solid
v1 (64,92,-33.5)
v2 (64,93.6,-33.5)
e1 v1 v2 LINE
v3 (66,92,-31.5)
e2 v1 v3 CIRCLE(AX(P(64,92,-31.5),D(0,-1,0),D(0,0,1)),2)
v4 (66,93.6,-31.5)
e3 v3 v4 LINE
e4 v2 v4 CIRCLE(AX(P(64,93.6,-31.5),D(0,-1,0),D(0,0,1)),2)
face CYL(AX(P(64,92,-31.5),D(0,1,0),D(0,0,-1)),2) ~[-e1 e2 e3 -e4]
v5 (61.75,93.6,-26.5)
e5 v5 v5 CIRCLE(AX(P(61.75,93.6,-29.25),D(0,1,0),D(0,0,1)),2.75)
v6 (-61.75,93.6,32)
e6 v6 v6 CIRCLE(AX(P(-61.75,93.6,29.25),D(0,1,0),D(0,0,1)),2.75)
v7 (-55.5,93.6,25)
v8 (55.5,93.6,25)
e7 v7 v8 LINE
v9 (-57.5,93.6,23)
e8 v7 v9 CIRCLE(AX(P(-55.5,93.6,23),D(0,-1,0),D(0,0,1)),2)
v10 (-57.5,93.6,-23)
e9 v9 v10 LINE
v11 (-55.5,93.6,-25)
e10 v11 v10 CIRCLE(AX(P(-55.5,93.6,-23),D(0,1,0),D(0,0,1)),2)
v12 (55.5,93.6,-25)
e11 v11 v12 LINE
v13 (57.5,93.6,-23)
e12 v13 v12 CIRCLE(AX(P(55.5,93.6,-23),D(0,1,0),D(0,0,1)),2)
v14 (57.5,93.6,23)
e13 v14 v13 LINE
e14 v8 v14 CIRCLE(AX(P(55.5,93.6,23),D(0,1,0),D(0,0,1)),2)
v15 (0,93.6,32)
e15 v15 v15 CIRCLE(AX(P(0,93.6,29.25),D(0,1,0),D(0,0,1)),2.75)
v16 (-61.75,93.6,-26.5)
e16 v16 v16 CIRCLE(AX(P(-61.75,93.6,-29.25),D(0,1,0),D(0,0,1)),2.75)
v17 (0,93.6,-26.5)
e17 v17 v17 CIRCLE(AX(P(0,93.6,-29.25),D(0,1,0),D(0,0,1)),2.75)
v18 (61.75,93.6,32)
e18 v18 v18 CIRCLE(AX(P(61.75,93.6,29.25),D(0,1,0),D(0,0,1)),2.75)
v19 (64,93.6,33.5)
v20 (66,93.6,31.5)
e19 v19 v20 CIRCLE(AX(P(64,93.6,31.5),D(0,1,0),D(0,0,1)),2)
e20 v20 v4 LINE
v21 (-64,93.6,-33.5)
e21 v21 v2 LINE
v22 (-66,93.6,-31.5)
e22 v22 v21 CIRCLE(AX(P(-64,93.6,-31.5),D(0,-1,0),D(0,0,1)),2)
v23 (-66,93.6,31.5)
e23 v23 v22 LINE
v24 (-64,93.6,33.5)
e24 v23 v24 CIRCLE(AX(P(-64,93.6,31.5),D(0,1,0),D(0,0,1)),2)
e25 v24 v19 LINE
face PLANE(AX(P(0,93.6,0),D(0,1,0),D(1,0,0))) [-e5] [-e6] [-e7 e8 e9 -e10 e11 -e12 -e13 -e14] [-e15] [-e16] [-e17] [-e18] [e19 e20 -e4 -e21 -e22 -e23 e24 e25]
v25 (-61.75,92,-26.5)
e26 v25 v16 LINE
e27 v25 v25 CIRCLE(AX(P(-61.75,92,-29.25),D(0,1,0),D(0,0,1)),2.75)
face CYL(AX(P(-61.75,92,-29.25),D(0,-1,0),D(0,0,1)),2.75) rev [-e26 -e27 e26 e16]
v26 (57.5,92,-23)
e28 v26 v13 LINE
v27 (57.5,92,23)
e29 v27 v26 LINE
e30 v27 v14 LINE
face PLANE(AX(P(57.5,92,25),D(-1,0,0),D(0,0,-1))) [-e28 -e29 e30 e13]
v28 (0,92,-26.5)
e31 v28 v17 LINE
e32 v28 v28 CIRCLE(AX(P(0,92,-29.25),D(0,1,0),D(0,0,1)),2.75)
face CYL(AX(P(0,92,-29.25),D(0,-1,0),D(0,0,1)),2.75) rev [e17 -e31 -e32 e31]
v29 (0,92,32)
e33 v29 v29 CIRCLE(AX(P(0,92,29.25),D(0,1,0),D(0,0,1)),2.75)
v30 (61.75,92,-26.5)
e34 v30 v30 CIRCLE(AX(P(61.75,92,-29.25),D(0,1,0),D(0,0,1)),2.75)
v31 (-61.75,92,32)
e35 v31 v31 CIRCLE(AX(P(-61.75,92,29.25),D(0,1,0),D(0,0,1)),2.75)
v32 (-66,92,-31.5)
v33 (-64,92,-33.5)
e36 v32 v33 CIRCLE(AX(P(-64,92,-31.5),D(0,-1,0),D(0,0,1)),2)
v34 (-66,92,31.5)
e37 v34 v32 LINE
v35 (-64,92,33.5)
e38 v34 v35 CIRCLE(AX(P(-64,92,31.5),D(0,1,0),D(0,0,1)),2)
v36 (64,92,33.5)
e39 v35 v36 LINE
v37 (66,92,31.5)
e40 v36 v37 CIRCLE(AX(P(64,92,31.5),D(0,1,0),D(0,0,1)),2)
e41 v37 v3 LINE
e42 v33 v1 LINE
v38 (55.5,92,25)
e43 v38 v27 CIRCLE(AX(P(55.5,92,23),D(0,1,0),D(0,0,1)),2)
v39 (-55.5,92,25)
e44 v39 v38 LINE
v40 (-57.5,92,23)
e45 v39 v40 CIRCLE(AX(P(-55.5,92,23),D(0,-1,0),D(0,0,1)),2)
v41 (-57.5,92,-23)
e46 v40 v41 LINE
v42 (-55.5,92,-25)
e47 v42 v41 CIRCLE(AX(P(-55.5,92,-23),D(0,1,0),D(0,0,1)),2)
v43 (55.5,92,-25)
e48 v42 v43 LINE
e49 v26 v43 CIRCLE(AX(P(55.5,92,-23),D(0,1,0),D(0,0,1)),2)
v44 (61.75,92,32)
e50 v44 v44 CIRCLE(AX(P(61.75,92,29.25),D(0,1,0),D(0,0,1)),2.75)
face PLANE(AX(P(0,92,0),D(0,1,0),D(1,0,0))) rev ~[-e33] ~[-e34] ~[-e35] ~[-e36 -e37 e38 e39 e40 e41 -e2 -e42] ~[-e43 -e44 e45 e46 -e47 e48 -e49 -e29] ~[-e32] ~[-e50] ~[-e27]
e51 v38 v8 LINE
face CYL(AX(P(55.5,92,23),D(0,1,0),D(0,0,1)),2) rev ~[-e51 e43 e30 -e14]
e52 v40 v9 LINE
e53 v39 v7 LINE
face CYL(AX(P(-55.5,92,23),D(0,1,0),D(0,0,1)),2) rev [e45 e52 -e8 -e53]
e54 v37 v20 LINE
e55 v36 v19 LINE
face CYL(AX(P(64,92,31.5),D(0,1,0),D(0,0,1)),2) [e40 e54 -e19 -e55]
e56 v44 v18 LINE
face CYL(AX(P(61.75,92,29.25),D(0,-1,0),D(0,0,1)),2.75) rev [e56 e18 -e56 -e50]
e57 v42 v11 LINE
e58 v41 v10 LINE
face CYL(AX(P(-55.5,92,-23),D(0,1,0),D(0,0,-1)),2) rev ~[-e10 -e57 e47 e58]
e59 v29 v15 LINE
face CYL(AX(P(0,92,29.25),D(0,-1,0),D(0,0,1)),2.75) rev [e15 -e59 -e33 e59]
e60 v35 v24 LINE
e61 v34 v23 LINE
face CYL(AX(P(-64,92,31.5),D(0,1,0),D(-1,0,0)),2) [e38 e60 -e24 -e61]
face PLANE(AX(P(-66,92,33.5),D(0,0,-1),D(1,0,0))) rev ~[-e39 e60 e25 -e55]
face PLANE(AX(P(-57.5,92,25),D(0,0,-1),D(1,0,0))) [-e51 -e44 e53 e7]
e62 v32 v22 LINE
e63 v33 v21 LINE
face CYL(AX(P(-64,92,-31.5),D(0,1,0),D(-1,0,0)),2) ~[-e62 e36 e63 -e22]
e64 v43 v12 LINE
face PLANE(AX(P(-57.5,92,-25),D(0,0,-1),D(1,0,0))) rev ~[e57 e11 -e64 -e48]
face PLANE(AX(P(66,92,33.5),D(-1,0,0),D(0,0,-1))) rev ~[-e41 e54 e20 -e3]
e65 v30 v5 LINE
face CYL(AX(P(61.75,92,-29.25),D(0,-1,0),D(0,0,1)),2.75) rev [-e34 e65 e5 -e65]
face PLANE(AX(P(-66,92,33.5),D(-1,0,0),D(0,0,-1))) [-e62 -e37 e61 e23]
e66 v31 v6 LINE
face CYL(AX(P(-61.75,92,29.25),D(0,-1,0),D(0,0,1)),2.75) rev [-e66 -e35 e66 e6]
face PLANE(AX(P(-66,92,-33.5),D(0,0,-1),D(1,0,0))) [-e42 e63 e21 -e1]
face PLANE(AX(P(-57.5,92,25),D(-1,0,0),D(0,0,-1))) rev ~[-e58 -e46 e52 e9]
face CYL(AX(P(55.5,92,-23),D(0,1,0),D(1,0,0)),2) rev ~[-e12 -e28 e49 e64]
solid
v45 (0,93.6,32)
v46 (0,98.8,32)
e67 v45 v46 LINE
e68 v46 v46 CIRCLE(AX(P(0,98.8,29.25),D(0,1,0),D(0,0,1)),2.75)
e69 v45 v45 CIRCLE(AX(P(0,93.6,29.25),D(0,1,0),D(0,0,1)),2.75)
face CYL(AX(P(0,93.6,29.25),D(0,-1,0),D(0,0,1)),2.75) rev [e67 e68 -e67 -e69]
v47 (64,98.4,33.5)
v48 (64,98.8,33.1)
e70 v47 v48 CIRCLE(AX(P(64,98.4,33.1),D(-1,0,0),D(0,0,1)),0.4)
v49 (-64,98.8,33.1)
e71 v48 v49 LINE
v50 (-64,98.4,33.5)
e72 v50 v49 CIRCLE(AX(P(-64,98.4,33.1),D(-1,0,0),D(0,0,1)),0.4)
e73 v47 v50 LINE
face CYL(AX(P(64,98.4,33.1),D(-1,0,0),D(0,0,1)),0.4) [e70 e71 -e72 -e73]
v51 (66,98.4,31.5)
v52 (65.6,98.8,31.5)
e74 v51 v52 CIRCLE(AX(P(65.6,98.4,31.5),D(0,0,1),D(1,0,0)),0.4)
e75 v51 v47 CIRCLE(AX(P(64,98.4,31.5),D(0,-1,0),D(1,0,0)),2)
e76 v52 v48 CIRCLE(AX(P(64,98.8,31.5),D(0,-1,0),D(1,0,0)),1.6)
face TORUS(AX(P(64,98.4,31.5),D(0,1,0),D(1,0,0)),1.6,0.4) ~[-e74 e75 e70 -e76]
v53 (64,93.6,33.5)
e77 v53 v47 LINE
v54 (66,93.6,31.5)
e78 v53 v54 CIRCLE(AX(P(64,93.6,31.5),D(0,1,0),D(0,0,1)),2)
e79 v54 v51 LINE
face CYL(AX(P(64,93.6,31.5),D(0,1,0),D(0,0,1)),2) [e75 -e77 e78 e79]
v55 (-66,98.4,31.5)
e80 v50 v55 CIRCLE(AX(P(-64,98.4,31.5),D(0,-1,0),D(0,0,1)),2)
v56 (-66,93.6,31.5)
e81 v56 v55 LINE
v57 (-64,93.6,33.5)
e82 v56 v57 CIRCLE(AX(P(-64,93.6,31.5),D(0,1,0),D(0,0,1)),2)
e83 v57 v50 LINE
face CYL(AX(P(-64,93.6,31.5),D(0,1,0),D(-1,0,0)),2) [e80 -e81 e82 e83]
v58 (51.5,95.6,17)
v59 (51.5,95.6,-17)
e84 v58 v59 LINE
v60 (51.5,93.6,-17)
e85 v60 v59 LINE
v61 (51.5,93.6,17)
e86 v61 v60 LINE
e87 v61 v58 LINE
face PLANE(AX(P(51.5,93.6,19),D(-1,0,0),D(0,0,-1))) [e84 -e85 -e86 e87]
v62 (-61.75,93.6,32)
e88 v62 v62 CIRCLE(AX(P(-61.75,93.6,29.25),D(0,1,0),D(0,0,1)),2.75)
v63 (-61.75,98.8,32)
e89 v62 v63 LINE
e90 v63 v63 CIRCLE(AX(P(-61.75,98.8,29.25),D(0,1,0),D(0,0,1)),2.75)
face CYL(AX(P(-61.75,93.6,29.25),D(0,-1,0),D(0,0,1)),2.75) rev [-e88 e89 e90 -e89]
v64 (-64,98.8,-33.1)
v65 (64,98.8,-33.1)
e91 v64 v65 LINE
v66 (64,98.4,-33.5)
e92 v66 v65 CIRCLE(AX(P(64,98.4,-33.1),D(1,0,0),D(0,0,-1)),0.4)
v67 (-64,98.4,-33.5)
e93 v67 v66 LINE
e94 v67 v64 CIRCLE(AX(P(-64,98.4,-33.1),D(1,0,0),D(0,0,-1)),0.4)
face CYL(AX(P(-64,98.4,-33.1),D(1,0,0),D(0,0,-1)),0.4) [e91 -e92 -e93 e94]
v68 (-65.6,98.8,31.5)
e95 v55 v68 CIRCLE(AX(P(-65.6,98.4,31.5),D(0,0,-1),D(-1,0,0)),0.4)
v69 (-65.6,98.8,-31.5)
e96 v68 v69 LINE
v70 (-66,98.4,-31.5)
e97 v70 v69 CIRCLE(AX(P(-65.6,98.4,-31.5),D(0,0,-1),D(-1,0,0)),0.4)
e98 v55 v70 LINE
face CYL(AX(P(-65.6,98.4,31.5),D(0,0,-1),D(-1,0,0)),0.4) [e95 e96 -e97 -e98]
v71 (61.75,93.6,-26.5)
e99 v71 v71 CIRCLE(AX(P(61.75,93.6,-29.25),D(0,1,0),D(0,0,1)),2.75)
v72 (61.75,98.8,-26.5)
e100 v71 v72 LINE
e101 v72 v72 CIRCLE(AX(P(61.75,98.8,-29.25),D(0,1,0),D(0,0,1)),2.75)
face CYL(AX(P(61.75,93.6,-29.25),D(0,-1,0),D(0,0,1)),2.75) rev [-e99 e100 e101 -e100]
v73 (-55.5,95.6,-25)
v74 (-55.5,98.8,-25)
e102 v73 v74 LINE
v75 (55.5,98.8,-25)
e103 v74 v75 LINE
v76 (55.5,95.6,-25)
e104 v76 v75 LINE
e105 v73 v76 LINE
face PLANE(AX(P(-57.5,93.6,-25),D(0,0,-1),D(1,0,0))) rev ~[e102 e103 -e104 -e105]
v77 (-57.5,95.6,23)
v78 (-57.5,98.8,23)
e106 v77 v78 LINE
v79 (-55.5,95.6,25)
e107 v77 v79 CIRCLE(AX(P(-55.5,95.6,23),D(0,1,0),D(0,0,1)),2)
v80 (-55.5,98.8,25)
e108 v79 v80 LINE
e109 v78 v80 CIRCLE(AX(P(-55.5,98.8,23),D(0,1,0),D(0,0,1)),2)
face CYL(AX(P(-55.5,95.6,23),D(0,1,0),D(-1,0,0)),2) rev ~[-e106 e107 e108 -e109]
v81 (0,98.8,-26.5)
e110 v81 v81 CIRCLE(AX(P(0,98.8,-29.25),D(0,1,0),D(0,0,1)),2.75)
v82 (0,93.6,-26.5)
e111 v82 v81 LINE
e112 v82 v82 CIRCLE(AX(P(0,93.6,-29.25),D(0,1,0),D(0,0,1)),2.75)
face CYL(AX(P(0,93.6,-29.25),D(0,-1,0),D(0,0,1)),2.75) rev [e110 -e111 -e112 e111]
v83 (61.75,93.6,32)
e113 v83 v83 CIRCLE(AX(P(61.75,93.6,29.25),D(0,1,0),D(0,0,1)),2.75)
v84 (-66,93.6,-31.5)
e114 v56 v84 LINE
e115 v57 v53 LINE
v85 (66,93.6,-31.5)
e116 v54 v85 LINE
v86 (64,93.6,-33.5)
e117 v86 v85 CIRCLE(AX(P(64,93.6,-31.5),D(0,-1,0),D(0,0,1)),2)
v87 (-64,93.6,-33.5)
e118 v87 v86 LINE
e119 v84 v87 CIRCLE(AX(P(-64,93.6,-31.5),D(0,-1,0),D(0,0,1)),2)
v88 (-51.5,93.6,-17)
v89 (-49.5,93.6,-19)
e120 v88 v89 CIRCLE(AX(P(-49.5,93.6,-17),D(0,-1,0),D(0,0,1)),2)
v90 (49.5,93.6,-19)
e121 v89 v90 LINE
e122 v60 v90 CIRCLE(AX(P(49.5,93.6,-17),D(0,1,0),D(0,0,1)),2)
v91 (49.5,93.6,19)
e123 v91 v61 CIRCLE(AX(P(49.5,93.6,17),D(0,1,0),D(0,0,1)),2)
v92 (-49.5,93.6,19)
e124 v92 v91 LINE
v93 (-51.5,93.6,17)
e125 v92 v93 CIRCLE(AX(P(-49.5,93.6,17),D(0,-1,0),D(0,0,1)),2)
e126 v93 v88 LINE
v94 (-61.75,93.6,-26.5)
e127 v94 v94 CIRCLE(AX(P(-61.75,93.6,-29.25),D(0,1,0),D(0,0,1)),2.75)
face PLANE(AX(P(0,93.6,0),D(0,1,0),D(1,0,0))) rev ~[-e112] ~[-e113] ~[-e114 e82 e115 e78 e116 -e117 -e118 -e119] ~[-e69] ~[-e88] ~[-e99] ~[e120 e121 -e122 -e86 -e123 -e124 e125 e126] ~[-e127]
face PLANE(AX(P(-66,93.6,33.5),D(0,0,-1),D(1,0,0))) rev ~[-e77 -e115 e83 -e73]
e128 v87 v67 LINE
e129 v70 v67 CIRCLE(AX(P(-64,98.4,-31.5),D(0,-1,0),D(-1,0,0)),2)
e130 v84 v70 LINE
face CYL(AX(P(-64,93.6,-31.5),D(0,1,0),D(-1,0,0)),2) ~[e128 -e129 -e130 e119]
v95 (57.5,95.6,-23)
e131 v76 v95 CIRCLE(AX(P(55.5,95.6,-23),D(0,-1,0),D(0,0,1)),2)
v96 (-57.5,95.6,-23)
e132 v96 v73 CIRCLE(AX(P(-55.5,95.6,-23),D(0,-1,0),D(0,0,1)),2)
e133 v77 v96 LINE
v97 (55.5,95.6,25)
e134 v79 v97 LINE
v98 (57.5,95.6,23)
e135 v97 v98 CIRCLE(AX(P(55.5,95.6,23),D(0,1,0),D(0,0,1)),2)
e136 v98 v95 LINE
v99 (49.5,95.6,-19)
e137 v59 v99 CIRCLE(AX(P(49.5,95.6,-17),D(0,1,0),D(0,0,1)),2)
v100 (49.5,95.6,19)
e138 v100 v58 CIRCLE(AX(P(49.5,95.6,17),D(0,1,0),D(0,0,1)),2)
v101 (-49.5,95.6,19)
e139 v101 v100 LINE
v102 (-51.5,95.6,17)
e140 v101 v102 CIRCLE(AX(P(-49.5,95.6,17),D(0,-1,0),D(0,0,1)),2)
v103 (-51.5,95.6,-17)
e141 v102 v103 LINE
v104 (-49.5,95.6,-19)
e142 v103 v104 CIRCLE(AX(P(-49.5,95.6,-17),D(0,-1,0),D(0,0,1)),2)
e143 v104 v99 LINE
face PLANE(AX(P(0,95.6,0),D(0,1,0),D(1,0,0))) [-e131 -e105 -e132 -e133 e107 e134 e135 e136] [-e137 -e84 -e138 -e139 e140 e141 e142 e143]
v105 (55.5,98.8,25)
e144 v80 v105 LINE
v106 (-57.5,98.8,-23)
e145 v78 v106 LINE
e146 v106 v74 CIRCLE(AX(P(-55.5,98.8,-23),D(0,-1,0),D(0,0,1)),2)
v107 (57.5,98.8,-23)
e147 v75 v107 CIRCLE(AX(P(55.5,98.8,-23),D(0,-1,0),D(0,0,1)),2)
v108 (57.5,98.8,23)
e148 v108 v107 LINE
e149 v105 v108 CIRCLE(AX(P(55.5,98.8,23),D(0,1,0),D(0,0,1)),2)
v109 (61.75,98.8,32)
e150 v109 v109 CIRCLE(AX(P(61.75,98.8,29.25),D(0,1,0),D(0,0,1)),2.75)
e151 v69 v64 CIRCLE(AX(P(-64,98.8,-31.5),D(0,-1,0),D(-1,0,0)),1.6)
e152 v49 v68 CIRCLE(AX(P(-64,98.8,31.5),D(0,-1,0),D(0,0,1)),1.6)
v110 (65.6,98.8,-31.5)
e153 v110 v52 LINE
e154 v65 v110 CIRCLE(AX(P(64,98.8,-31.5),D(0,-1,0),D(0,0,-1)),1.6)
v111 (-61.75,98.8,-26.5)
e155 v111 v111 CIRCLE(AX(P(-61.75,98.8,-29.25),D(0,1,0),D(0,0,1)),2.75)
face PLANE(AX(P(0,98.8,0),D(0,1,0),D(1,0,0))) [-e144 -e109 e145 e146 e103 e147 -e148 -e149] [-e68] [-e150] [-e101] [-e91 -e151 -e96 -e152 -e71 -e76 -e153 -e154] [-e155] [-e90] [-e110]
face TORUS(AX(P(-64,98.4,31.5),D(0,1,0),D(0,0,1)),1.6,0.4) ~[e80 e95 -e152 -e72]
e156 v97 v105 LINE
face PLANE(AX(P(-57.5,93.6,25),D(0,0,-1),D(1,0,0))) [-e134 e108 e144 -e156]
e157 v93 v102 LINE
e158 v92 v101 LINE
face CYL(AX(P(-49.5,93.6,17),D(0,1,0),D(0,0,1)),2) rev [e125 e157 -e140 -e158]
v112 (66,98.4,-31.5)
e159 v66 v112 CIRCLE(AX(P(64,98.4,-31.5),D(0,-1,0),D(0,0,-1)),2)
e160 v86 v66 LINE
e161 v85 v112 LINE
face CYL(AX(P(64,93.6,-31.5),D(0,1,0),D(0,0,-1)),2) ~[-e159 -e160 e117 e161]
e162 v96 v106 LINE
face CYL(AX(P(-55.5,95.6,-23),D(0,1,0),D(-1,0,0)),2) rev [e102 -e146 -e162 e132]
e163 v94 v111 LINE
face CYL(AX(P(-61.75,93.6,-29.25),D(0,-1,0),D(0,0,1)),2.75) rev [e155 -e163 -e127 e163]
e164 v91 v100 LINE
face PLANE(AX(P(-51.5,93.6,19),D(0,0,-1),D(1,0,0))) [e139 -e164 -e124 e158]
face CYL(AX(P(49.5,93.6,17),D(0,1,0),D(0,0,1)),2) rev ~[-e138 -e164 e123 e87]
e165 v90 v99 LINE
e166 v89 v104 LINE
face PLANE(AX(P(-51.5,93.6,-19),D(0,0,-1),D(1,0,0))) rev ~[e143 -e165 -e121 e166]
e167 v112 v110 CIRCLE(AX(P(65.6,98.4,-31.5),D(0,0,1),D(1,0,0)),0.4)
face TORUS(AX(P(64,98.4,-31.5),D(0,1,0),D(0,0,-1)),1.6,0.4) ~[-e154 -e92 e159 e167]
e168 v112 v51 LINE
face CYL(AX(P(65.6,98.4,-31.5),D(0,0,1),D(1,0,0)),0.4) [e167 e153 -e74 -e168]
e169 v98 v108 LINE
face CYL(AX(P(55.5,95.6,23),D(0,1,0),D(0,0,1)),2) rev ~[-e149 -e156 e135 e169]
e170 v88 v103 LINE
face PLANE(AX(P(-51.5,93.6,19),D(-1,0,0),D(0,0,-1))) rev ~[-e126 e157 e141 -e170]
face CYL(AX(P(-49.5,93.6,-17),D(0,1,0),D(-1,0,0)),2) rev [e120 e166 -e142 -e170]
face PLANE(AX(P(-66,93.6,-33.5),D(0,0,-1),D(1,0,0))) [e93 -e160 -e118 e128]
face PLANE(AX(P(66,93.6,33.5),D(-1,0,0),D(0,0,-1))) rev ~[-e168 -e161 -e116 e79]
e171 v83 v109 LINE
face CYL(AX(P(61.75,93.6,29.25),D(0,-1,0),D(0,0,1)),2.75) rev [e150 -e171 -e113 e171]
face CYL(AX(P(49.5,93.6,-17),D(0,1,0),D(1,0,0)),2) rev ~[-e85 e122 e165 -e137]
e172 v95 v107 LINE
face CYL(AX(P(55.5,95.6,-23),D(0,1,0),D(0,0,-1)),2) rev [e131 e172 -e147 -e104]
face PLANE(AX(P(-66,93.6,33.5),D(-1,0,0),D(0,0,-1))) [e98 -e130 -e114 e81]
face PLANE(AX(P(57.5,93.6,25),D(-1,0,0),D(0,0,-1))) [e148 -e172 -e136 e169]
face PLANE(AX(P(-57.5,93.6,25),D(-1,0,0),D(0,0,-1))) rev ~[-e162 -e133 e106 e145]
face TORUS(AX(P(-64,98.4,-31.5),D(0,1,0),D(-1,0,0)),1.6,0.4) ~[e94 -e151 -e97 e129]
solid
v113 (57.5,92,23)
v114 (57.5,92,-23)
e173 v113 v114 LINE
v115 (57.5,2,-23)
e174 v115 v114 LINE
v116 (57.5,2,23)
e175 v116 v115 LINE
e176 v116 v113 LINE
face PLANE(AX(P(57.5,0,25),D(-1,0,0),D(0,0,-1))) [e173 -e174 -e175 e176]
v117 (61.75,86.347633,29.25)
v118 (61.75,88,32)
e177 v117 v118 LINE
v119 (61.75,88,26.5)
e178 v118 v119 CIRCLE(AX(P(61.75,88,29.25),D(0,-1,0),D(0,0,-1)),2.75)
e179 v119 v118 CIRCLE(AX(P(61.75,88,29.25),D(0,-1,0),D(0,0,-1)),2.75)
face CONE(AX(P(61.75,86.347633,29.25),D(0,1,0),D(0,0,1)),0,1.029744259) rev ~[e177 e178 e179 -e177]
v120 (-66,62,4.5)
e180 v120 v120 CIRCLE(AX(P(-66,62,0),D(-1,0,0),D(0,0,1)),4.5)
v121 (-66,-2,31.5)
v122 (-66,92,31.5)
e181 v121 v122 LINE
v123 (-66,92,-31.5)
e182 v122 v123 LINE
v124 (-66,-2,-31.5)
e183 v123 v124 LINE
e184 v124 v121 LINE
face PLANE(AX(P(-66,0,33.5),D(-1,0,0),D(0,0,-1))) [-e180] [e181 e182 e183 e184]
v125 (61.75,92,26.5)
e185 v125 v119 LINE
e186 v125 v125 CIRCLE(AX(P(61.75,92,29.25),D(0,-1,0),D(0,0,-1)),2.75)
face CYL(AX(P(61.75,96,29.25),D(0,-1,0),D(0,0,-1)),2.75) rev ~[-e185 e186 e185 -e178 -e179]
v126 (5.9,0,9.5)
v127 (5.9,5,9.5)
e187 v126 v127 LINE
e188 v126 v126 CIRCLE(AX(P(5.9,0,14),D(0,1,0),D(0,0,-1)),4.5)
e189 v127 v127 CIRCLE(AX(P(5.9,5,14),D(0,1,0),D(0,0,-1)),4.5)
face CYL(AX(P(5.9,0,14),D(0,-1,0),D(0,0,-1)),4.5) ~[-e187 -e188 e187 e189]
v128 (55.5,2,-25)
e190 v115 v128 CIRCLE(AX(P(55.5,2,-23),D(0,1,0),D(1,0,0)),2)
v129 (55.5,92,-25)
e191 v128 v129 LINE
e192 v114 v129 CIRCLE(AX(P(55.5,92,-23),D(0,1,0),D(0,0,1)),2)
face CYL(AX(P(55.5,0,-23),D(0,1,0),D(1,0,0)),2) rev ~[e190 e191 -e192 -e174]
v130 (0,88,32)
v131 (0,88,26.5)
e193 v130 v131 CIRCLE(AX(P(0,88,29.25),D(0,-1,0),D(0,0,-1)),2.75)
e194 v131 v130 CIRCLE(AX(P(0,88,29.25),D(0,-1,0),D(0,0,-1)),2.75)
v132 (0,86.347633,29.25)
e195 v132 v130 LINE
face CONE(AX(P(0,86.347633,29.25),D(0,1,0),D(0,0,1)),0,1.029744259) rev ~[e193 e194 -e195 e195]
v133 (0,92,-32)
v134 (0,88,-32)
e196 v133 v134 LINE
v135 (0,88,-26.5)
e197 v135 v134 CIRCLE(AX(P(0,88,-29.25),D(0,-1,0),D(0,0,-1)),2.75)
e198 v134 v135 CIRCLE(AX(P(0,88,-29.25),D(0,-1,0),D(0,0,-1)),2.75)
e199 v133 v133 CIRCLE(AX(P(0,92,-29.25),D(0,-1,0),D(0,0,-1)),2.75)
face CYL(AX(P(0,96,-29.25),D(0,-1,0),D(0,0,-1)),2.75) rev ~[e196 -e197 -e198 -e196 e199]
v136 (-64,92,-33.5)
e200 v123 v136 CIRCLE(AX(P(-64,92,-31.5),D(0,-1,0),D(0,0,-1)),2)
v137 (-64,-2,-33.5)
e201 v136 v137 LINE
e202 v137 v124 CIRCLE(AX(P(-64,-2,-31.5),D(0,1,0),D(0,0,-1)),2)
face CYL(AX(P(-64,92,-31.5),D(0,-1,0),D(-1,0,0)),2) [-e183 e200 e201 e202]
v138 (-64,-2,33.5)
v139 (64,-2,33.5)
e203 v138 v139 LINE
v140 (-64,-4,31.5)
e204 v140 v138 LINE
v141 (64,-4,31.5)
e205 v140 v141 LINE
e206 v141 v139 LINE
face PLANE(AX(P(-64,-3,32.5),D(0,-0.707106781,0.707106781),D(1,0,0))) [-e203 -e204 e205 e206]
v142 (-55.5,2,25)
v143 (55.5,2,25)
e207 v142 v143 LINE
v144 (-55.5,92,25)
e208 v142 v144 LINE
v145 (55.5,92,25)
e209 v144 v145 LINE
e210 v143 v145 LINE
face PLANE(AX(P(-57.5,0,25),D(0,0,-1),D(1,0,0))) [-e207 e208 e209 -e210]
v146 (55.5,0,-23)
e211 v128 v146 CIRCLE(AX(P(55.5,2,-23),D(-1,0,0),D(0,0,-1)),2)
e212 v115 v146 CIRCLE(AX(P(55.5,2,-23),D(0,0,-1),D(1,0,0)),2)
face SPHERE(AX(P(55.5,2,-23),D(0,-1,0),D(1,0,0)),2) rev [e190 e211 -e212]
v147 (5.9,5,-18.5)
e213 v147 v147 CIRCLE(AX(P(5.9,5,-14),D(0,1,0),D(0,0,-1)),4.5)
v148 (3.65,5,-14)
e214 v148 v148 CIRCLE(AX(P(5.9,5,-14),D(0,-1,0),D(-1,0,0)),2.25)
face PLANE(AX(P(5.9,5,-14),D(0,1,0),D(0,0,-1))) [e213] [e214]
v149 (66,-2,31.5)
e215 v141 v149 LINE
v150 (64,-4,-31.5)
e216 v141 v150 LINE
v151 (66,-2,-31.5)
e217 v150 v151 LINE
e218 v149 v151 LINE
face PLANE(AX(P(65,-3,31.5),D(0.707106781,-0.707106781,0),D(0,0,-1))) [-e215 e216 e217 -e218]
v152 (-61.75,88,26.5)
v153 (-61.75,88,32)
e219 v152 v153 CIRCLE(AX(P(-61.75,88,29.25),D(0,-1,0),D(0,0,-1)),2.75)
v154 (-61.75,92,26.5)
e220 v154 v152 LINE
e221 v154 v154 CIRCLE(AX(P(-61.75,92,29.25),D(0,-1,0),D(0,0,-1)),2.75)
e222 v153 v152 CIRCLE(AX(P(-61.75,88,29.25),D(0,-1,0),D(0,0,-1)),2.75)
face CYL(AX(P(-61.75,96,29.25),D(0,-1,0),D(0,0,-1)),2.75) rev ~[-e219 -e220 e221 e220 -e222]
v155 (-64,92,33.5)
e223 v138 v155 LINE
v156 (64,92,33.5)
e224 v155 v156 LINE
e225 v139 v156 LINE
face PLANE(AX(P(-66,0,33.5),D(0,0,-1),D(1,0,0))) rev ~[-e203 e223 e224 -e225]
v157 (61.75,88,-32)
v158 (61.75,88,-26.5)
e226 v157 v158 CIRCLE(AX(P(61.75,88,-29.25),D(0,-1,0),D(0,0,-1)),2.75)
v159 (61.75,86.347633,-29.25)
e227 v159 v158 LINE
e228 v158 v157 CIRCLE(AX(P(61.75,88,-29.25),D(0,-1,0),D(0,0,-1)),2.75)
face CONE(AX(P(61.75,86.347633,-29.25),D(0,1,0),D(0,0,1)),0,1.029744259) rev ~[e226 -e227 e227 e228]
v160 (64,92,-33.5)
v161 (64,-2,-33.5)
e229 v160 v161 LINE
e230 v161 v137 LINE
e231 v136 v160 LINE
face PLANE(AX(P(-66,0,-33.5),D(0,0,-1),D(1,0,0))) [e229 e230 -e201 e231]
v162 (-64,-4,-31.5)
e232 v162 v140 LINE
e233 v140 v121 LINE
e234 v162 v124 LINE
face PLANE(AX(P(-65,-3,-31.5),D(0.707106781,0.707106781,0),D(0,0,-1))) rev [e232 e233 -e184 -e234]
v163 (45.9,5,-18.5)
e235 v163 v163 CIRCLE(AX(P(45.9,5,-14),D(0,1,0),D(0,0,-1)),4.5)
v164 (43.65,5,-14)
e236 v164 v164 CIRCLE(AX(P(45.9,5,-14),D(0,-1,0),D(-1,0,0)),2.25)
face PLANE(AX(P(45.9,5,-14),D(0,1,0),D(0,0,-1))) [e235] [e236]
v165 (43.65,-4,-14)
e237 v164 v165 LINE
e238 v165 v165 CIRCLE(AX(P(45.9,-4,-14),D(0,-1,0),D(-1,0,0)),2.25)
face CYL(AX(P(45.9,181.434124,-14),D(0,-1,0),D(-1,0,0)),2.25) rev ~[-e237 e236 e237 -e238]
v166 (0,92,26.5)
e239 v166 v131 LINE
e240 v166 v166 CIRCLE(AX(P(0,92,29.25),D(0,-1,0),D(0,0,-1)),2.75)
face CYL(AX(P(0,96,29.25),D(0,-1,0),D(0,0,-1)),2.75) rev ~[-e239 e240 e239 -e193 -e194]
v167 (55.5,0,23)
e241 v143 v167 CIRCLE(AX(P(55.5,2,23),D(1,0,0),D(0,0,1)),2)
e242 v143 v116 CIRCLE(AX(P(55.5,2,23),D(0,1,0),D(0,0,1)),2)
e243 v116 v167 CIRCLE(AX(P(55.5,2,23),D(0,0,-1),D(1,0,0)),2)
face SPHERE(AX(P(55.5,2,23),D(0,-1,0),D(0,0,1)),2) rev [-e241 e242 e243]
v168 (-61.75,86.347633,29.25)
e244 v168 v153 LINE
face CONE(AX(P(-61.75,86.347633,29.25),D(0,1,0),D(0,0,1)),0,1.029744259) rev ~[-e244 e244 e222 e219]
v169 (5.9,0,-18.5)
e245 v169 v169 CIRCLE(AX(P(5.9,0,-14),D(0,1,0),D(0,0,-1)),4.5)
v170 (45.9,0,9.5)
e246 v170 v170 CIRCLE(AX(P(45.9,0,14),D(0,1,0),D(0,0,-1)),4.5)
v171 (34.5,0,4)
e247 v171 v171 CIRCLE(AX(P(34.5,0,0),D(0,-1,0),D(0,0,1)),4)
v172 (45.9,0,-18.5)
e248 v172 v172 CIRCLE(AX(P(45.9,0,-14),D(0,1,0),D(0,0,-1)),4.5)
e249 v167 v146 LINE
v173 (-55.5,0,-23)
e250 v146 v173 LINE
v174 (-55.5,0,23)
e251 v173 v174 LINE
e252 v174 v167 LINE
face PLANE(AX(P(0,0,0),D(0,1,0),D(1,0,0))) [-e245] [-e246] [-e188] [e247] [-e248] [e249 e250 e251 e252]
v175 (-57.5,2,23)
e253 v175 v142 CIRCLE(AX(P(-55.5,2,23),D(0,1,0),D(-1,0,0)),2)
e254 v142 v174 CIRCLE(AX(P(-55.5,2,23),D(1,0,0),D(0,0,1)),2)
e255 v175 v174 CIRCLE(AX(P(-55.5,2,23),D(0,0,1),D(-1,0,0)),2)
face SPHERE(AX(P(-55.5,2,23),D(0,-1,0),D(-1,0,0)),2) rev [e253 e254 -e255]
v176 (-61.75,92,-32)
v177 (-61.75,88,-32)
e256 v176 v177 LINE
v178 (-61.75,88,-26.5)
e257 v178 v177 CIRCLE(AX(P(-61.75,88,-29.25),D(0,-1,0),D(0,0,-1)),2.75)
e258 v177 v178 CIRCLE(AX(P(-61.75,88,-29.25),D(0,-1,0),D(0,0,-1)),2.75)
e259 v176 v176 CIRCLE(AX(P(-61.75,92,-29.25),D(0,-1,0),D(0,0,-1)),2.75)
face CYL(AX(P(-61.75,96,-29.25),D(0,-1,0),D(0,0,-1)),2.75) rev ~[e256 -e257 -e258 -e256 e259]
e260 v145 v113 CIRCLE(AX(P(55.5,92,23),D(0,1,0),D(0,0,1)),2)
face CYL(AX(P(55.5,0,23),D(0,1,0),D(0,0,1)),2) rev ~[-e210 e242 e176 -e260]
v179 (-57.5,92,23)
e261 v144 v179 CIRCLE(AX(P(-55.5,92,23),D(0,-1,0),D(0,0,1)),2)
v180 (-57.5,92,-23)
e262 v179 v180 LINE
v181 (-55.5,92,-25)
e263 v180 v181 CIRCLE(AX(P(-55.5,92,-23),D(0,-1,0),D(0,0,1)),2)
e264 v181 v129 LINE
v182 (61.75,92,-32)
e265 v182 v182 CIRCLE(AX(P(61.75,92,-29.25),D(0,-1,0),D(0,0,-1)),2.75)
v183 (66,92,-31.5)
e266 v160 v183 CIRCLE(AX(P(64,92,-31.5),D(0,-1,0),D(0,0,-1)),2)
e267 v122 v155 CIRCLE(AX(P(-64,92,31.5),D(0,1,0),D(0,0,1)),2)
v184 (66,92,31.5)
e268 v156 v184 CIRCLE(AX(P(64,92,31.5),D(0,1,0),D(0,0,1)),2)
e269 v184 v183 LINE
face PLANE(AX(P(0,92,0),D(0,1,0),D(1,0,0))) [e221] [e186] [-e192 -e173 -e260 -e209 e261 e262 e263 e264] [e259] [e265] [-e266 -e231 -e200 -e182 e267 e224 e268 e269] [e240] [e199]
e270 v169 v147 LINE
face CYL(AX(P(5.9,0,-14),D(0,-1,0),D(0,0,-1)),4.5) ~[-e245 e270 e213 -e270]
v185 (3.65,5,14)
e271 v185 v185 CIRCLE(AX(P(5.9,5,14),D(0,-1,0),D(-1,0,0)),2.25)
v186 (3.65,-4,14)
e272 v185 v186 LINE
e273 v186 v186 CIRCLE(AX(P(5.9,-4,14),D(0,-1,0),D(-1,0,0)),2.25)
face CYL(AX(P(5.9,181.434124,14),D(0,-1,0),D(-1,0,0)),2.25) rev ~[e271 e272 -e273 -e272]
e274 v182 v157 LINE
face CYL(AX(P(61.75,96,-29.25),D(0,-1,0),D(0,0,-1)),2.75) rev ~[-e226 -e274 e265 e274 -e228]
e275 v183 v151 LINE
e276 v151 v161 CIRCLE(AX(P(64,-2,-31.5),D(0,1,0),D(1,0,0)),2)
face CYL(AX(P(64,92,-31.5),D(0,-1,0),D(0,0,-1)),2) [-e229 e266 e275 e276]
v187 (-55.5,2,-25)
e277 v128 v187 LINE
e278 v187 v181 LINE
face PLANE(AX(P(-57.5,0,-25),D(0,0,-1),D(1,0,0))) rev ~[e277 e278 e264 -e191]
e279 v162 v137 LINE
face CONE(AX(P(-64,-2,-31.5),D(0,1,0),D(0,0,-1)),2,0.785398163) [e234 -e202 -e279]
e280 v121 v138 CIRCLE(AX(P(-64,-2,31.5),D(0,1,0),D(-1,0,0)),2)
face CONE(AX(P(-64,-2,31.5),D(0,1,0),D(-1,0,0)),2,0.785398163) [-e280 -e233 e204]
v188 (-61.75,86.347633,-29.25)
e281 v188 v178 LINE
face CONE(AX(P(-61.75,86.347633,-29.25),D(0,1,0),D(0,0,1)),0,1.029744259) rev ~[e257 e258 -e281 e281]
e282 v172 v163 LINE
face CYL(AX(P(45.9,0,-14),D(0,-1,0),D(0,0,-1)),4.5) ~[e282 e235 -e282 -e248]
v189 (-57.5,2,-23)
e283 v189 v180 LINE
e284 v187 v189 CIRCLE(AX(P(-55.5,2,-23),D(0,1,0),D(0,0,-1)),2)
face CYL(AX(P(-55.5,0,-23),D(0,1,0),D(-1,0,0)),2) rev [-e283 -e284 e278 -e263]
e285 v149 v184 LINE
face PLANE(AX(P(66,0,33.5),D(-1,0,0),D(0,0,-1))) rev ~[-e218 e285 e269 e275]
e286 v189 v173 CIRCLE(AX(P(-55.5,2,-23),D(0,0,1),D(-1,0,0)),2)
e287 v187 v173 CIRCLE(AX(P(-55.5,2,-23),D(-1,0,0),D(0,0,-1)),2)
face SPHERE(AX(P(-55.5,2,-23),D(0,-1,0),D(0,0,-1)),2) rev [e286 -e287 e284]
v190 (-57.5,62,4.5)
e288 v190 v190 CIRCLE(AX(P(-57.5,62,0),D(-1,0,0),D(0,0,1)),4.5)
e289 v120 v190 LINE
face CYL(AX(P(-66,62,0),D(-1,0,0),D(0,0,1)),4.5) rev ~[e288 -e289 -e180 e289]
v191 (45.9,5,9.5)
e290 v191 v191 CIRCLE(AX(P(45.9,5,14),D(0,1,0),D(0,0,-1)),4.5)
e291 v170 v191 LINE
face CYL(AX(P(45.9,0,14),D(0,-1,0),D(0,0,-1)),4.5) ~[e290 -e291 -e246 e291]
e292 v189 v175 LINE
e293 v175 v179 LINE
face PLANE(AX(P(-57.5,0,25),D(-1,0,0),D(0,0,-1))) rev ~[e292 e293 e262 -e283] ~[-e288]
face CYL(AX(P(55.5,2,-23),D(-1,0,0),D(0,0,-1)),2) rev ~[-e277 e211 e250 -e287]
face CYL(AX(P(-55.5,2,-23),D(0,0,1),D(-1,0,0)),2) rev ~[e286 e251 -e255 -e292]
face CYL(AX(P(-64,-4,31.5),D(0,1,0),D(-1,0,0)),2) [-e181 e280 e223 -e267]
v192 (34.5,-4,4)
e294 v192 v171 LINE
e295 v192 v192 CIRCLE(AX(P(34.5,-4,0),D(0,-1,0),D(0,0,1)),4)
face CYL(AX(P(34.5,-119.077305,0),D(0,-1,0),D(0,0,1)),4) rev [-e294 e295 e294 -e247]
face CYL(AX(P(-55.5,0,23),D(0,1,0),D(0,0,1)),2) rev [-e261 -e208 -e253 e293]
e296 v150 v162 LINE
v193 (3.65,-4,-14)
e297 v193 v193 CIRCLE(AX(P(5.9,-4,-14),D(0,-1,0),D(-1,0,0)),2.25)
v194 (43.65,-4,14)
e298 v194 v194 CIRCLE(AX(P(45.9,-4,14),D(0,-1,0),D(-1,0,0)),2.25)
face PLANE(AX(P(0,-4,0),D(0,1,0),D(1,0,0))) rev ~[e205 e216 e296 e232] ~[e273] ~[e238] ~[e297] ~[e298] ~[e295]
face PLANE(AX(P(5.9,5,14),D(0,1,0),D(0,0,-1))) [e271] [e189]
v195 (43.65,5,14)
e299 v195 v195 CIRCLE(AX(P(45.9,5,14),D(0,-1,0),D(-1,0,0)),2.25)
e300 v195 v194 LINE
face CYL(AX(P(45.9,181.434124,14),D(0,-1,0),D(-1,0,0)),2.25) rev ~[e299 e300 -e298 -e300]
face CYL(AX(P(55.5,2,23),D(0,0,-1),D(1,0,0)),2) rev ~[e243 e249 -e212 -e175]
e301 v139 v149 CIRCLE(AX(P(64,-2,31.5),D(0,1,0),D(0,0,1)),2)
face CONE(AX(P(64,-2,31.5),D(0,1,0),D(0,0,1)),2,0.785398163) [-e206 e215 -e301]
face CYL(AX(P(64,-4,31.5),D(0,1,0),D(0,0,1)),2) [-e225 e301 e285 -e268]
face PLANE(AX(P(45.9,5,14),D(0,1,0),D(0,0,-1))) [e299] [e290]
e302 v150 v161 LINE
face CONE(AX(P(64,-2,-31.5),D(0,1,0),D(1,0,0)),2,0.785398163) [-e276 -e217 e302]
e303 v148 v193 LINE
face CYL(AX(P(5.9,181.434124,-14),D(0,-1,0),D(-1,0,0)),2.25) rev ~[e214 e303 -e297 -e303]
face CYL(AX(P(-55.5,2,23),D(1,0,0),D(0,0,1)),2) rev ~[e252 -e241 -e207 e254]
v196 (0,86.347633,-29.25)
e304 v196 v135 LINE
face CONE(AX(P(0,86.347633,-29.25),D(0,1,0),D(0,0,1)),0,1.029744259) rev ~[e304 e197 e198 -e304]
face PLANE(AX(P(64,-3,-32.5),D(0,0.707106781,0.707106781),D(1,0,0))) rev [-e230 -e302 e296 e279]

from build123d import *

# Parameters (mm, degrees)
BOX_OUTLINE_W            = 132
BOX_OUTLINE_H            = 67
BOSS_EXTRUDE2_DEPTH      = 4
BOX_OUTLINE_4_W          = 132
BOX_OUTLINE_4_H          = 67
BOX_OUTLINE_4_W_2        = 115
BOX_OUTLINE_4_H_2        = 50
BOSS_EXTRUDE3_DEPTH      = 92
MOTOR_OUTLINE_R          = 4.5
BOSS_EXTRUDE4_DEPTH      = 5
CUT_EXTRUDE1_DEPTH       = 119.077305186
CUT_EXTRUDE1_DEPTH_BACK  = 119.077305186
MOTOR_OUTLINE_3_R        = 4
M4_MOTOR_MOUNTS_D        = 4.5
SKETCH11_R               = 4.5
CABLE_GLAND_HOLE_DEPTH   = 8.5
M5_CLEARANCE_HOLE1_D     = 5.5
M5_CLEARANCE_HOLE1_DEPTH = 4
M5_CLEARANCE_HOLE1_TIP   = 1.652366702
SKETCH8_W                = 132
SKETCH8_H                = 67
SKETCH8_R                = 2.75
SKETCH8_W_2              = 115
SKETCH8_H_2              = 50
GLAND_DEPTH              = 1.6
SKETCH1_W                = 132
SKETCH1_H                = 67
SKETCH1_R                = 2.75
SKETCH1_W_2              = 115
SKETCH1_H_2              = 50
LID_DEPTH                = 5.2
SKETCH1_4_W              = 115
SKETCH1_4_H              = 50
SKETCH1_4_W_2            = 103
SKETCH1_4_H_2            = 38
LID_LIP_DEPTH            = 2
FILLET2_R                = 2
FILLET3_R                = 2
FILLET5_R                = 2
CHAMFER1_SIZE            = 2
FILLET4_R                = 2
FILLET6_R                = 0.4


with BuildPart() as part:
    # box_outline → Boss-Extrude2 (new body)
    with BuildSketch(Plane(origin=(0, 0, 0), x_dir=(1, 0, 0), z_dir=(0, 1, 0))):
        Rectangle(BOX_OUTLINE_W, BOX_OUTLINE_H)
    extrude(amount=-BOSS_EXTRUDE2_DEPTH)

    # box_outline<4> → Boss-Extrude3 (add)
    with BuildSketch(Plane(origin=(0, 0, 0), x_dir=(1, 0, 0), z_dir=(0, 1, 0))):
        Rectangle(BOX_OUTLINE_4_W, BOX_OUTLINE_4_H)
        Rectangle(BOX_OUTLINE_4_W_2, BOX_OUTLINE_4_H_2, mode=Mode.SUBTRACT)
    extrude(amount=BOSS_EXTRUDE3_DEPTH)

    # motor_outline → Boss-Extrude4 (add)
    with BuildSketch(Plane(origin=(0, 0, 0), x_dir=(1, 0, 0), z_dir=(0, 1, 0))):
        with Locations(Location((45.9, -14, 0), (0, 0, 90))):
            Circle(MOTOR_OUTLINE_R)
        with Locations(Location((5.9, -14, 0), (0, 0, 90))):
            Circle(MOTOR_OUTLINE_R)
        with Locations(Location((5.9, 14, 0), (0, 0, 90))):
            Circle(MOTOR_OUTLINE_R)
        with Locations(Location((45.9, 14, 0), (0, 0, 90))):
            Circle(MOTOR_OUTLINE_R)
    extrude(amount=BOSS_EXTRUDE4_DEPTH)

    # motor_outline<3> → Cut-Extrude1 (cut, two sides: drawn at the far end of the back side and taken through both)
    with BuildSketch(Plane(origin=(0, 0, 0), x_dir=(1, 0, 0), z_dir=(0, 1, 0)).offset(-CUT_EXTRUDE1_DEPTH_BACK)):
        with Locations(Location((34.5, 0, 0), (0, 0, 270))):
            Circle(MOTOR_OUTLINE_3_R)
    extrude(amount=CUT_EXTRUDE1_DEPTH + CUT_EXTRUDE1_DEPTH_BACK, mode=Mode.SUBTRACT)

    # M4 motor mounts (through all)
    with Locations(Plane(origin=(0, 5, 0), x_dir=(1, 0, 0), z_dir=(0, 1, 0))):
        with Locations((45.9, -14), (5.9, -14), (5.9, 14), (45.9, 14)):
            Hole(M4_MOTOR_MOUNTS_D / 2)

    # Sketch11 → cable gland hole (cut)
    with BuildSketch(Plane.ZY.offset(66)):
        with Locations((0, 62)):
            Circle(SKETCH11_R)
    extrude(amount=-CABLE_GLAND_HOLE_DEPTH, mode=Mode.SUBTRACT)

    # M5 Clearance Hole1
    with Locations(Plane(origin=(61.75, 92, 29.25), x_dir=(0, 0, 1), z_dir=(0, 1, 0))):
        with Locations((0, 0), (0, -61.75), (0, -123.5), (-58.5, -123.5), (-58.5, -61.75), (-58.5, 0)):
            Hole(M5_CLEARANCE_HOLE1_D / 2, depth=M5_CLEARANCE_HOLE1_DEPTH)
            with Locations((0, 0, -(M5_CLEARANCE_HOLE1_DEPTH + M5_CLEARANCE_HOLE1_TIP / 2))):  # 118° drill point
                Cone(0, M5_CLEARANCE_HOLE1_D / 2, M5_CLEARANCE_HOLE1_TIP, mode=Mode.SUBTRACT)

    # Fillet3
    fillet3_edges = [part.edges().sort_by_distance(p)[0] for p in [
        (57.5, 46, -25),
        (57.5, 46, 25),
        (-57.5, 46, 25),
        (-57.5, 46, -25),
        (-66, 44, 33.5),
        (66, 44, 33.5),
        (66, 44, -33.5),
        (-66, 44, -33.5),
    ]]
    fillet(fillet3_edges, radius=FILLET3_R)

    # Chamfer1
    chamfer1_edges = [part.edges().sort_by_distance(p)[0] for p in [
        (0, -4, 33.5),
        (66, -4, 0),
        (-66, -4, 0),
        (0, -4, -33.5),
        (65.414213562, -4, -32.914213562),
        (-65.414213562, -4, -32.914213562),
        (-65.414213562, -4, 32.914213562),
        (65.414213562, -4, 32.914213562),
    ]]
    chamfer(chamfer1_edges, length=CHAMFER1_SIZE)

    # Fillet4
    fillet4_edges = [part.edges().sort_by_distance(p)[0] for p in [
        (0, 0, 25),
        (57.5, 0, 0),
        (0, 0, -25),
        (-57.5, 0, 0),
        (-56.914213562, 0, -24.414213562),
        (56.914213562, 0, -24.414213562),
        (-56.914213562, 0, 24.414213562),
        (56.914213562, 0, 24.414213562),
    ]]
    fillet(fillet4_edges, radius=FILLET4_R)


with BuildPart() as body_2:
    # Sketch8 → gland (new body)
    with BuildSketch(Plane(origin=(0, 92, 0), x_dir=(1, 0, 0), z_dir=(0, 1, 0))):
        Rectangle(SKETCH8_W, SKETCH8_H)
        with Locations(Location((0, -29.25, 0), (0, 0, 270))):
            Circle(SKETCH8_R, mode=Mode.SUBTRACT)
        with Locations(Location((-61.75, 29.25, 0), (0, 0, 270))):
            Circle(SKETCH8_R, mode=Mode.SUBTRACT)
        with Locations(Location((61.75, 29.25, 0), (0, 0, 270))):
            Circle(SKETCH8_R, mode=Mode.SUBTRACT)
        with Locations(Location((0, 29.25, 0), (0, 0, 270))):
            Circle(SKETCH8_R, mode=Mode.SUBTRACT)
        with Locations(Location((-61.75, -29.25, 0), (0, 0, 270))):
            Circle(SKETCH8_R, mode=Mode.SUBTRACT)
        with Locations(Location((61.75, -29.25, 0), (0, 0, 270))):
            Circle(SKETCH8_R, mode=Mode.SUBTRACT)
        Rectangle(SKETCH8_W_2, SKETCH8_H_2, mode=Mode.SUBTRACT)
    extrude(amount=GLAND_DEPTH)

    # Fillet5
    fillet5_edges = [body_2.edges().sort_by_distance(p)[0] for p in [
        (66, 92.8, -33.5),
        (66, 92.8, 33.5),
        (-66, 92.8, 33.5),
        (-66, 92.8, -33.5),
        (-57.5, 92.8, -25),
        (-57.5, 92.8, 25),
        (57.5, 92.8, 25),
        (57.5, 92.8, -25),
    ]]
    fillet(fillet5_edges, radius=FILLET5_R)


with BuildPart() as body_3:
    # Sketch1 → lid (new body)
    with BuildSketch(Plane(origin=(0, 93.6, 0), x_dir=(1, 0, 0), z_dir=(0, 1, 0))):
        Rectangle(SKETCH1_W, SKETCH1_H)
        with Locations(Location((0, -29.25, 0), (0, 0, 270))):
            Circle(SKETCH1_R, mode=Mode.SUBTRACT)
        with Locations(Location((61.75, -29.25, 0), (0, 0, 270))):
            Circle(SKETCH1_R, mode=Mode.SUBTRACT)
        with Locations(Location((61.75, 29.25, 0), (0, 0, 270))):
            Circle(SKETCH1_R, mode=Mode.SUBTRACT)
        with Locations(Location((0, 29.25, 0), (0, 0, 270))):
            Circle(SKETCH1_R, mode=Mode.SUBTRACT)
        with Locations(Location((-61.75, 29.25, 0), (0, 0, 270))):
            Circle(SKETCH1_R, mode=Mode.SUBTRACT)
        with Locations(Location((-61.75, -29.25, 0), (0, 0, 270))):
            Circle(SKETCH1_R, mode=Mode.SUBTRACT)
        Rectangle(SKETCH1_W_2, SKETCH1_H_2, mode=Mode.SUBTRACT)
    extrude(amount=LID_DEPTH)

    # Sketch1<4> → lid lip (add)
    with BuildSketch(Plane(origin=(0, 93.6, 0), x_dir=(1, 0, 0), z_dir=(0, 1, 0))):
        Rectangle(SKETCH1_4_W, SKETCH1_4_H)
        Rectangle(SKETCH1_4_W_2, SKETCH1_4_H_2, mode=Mode.SUBTRACT)
    extrude(amount=LID_LIP_DEPTH)

    # Fillet2
    fillet2_edges = [body_3.edges().sort_by_distance(p)[0] for p in [
        (57.5, 97.2, 25),
        (57.5, 97.2, -25),
        (-57.5, 97.2, -25),
        (-57.5, 97.2, 25),
        (66, 96.2, 33.5),
        (-66, 96.2, 33.5),
        (-66, 96.2, -33.5),
        (66, 96.2, -33.5),
        (-51.5, 94.6, 19),
        (-51.5, 94.6, -19),
        (51.5, 94.6, -19),
        (51.5, 94.6, 19),
    ]]
    fillet(fillet2_edges, radius=FILLET2_R)

    # Fillet6
    fillet6_edges = [body_3.edges().sort_by_distance(p)[0] for p in [
        (0, 98.8, -33.5),
        (66, 98.8, 0),
        (-66, 98.8, 0),
        (0, 98.8, 33.5),
        (-65.414213562, 98.8, 32.914213562),
        (-65.414213562, 98.8, -32.914213562),
        (65.414213562, 98.8, 32.914213562),
        (65.414213562, 98.8, -32.914213562),
    ]]
    fillet(fillet6_edges, radius=FILLET6_R)


solid = Compound([part.part, body_2.part, body_3.part])
